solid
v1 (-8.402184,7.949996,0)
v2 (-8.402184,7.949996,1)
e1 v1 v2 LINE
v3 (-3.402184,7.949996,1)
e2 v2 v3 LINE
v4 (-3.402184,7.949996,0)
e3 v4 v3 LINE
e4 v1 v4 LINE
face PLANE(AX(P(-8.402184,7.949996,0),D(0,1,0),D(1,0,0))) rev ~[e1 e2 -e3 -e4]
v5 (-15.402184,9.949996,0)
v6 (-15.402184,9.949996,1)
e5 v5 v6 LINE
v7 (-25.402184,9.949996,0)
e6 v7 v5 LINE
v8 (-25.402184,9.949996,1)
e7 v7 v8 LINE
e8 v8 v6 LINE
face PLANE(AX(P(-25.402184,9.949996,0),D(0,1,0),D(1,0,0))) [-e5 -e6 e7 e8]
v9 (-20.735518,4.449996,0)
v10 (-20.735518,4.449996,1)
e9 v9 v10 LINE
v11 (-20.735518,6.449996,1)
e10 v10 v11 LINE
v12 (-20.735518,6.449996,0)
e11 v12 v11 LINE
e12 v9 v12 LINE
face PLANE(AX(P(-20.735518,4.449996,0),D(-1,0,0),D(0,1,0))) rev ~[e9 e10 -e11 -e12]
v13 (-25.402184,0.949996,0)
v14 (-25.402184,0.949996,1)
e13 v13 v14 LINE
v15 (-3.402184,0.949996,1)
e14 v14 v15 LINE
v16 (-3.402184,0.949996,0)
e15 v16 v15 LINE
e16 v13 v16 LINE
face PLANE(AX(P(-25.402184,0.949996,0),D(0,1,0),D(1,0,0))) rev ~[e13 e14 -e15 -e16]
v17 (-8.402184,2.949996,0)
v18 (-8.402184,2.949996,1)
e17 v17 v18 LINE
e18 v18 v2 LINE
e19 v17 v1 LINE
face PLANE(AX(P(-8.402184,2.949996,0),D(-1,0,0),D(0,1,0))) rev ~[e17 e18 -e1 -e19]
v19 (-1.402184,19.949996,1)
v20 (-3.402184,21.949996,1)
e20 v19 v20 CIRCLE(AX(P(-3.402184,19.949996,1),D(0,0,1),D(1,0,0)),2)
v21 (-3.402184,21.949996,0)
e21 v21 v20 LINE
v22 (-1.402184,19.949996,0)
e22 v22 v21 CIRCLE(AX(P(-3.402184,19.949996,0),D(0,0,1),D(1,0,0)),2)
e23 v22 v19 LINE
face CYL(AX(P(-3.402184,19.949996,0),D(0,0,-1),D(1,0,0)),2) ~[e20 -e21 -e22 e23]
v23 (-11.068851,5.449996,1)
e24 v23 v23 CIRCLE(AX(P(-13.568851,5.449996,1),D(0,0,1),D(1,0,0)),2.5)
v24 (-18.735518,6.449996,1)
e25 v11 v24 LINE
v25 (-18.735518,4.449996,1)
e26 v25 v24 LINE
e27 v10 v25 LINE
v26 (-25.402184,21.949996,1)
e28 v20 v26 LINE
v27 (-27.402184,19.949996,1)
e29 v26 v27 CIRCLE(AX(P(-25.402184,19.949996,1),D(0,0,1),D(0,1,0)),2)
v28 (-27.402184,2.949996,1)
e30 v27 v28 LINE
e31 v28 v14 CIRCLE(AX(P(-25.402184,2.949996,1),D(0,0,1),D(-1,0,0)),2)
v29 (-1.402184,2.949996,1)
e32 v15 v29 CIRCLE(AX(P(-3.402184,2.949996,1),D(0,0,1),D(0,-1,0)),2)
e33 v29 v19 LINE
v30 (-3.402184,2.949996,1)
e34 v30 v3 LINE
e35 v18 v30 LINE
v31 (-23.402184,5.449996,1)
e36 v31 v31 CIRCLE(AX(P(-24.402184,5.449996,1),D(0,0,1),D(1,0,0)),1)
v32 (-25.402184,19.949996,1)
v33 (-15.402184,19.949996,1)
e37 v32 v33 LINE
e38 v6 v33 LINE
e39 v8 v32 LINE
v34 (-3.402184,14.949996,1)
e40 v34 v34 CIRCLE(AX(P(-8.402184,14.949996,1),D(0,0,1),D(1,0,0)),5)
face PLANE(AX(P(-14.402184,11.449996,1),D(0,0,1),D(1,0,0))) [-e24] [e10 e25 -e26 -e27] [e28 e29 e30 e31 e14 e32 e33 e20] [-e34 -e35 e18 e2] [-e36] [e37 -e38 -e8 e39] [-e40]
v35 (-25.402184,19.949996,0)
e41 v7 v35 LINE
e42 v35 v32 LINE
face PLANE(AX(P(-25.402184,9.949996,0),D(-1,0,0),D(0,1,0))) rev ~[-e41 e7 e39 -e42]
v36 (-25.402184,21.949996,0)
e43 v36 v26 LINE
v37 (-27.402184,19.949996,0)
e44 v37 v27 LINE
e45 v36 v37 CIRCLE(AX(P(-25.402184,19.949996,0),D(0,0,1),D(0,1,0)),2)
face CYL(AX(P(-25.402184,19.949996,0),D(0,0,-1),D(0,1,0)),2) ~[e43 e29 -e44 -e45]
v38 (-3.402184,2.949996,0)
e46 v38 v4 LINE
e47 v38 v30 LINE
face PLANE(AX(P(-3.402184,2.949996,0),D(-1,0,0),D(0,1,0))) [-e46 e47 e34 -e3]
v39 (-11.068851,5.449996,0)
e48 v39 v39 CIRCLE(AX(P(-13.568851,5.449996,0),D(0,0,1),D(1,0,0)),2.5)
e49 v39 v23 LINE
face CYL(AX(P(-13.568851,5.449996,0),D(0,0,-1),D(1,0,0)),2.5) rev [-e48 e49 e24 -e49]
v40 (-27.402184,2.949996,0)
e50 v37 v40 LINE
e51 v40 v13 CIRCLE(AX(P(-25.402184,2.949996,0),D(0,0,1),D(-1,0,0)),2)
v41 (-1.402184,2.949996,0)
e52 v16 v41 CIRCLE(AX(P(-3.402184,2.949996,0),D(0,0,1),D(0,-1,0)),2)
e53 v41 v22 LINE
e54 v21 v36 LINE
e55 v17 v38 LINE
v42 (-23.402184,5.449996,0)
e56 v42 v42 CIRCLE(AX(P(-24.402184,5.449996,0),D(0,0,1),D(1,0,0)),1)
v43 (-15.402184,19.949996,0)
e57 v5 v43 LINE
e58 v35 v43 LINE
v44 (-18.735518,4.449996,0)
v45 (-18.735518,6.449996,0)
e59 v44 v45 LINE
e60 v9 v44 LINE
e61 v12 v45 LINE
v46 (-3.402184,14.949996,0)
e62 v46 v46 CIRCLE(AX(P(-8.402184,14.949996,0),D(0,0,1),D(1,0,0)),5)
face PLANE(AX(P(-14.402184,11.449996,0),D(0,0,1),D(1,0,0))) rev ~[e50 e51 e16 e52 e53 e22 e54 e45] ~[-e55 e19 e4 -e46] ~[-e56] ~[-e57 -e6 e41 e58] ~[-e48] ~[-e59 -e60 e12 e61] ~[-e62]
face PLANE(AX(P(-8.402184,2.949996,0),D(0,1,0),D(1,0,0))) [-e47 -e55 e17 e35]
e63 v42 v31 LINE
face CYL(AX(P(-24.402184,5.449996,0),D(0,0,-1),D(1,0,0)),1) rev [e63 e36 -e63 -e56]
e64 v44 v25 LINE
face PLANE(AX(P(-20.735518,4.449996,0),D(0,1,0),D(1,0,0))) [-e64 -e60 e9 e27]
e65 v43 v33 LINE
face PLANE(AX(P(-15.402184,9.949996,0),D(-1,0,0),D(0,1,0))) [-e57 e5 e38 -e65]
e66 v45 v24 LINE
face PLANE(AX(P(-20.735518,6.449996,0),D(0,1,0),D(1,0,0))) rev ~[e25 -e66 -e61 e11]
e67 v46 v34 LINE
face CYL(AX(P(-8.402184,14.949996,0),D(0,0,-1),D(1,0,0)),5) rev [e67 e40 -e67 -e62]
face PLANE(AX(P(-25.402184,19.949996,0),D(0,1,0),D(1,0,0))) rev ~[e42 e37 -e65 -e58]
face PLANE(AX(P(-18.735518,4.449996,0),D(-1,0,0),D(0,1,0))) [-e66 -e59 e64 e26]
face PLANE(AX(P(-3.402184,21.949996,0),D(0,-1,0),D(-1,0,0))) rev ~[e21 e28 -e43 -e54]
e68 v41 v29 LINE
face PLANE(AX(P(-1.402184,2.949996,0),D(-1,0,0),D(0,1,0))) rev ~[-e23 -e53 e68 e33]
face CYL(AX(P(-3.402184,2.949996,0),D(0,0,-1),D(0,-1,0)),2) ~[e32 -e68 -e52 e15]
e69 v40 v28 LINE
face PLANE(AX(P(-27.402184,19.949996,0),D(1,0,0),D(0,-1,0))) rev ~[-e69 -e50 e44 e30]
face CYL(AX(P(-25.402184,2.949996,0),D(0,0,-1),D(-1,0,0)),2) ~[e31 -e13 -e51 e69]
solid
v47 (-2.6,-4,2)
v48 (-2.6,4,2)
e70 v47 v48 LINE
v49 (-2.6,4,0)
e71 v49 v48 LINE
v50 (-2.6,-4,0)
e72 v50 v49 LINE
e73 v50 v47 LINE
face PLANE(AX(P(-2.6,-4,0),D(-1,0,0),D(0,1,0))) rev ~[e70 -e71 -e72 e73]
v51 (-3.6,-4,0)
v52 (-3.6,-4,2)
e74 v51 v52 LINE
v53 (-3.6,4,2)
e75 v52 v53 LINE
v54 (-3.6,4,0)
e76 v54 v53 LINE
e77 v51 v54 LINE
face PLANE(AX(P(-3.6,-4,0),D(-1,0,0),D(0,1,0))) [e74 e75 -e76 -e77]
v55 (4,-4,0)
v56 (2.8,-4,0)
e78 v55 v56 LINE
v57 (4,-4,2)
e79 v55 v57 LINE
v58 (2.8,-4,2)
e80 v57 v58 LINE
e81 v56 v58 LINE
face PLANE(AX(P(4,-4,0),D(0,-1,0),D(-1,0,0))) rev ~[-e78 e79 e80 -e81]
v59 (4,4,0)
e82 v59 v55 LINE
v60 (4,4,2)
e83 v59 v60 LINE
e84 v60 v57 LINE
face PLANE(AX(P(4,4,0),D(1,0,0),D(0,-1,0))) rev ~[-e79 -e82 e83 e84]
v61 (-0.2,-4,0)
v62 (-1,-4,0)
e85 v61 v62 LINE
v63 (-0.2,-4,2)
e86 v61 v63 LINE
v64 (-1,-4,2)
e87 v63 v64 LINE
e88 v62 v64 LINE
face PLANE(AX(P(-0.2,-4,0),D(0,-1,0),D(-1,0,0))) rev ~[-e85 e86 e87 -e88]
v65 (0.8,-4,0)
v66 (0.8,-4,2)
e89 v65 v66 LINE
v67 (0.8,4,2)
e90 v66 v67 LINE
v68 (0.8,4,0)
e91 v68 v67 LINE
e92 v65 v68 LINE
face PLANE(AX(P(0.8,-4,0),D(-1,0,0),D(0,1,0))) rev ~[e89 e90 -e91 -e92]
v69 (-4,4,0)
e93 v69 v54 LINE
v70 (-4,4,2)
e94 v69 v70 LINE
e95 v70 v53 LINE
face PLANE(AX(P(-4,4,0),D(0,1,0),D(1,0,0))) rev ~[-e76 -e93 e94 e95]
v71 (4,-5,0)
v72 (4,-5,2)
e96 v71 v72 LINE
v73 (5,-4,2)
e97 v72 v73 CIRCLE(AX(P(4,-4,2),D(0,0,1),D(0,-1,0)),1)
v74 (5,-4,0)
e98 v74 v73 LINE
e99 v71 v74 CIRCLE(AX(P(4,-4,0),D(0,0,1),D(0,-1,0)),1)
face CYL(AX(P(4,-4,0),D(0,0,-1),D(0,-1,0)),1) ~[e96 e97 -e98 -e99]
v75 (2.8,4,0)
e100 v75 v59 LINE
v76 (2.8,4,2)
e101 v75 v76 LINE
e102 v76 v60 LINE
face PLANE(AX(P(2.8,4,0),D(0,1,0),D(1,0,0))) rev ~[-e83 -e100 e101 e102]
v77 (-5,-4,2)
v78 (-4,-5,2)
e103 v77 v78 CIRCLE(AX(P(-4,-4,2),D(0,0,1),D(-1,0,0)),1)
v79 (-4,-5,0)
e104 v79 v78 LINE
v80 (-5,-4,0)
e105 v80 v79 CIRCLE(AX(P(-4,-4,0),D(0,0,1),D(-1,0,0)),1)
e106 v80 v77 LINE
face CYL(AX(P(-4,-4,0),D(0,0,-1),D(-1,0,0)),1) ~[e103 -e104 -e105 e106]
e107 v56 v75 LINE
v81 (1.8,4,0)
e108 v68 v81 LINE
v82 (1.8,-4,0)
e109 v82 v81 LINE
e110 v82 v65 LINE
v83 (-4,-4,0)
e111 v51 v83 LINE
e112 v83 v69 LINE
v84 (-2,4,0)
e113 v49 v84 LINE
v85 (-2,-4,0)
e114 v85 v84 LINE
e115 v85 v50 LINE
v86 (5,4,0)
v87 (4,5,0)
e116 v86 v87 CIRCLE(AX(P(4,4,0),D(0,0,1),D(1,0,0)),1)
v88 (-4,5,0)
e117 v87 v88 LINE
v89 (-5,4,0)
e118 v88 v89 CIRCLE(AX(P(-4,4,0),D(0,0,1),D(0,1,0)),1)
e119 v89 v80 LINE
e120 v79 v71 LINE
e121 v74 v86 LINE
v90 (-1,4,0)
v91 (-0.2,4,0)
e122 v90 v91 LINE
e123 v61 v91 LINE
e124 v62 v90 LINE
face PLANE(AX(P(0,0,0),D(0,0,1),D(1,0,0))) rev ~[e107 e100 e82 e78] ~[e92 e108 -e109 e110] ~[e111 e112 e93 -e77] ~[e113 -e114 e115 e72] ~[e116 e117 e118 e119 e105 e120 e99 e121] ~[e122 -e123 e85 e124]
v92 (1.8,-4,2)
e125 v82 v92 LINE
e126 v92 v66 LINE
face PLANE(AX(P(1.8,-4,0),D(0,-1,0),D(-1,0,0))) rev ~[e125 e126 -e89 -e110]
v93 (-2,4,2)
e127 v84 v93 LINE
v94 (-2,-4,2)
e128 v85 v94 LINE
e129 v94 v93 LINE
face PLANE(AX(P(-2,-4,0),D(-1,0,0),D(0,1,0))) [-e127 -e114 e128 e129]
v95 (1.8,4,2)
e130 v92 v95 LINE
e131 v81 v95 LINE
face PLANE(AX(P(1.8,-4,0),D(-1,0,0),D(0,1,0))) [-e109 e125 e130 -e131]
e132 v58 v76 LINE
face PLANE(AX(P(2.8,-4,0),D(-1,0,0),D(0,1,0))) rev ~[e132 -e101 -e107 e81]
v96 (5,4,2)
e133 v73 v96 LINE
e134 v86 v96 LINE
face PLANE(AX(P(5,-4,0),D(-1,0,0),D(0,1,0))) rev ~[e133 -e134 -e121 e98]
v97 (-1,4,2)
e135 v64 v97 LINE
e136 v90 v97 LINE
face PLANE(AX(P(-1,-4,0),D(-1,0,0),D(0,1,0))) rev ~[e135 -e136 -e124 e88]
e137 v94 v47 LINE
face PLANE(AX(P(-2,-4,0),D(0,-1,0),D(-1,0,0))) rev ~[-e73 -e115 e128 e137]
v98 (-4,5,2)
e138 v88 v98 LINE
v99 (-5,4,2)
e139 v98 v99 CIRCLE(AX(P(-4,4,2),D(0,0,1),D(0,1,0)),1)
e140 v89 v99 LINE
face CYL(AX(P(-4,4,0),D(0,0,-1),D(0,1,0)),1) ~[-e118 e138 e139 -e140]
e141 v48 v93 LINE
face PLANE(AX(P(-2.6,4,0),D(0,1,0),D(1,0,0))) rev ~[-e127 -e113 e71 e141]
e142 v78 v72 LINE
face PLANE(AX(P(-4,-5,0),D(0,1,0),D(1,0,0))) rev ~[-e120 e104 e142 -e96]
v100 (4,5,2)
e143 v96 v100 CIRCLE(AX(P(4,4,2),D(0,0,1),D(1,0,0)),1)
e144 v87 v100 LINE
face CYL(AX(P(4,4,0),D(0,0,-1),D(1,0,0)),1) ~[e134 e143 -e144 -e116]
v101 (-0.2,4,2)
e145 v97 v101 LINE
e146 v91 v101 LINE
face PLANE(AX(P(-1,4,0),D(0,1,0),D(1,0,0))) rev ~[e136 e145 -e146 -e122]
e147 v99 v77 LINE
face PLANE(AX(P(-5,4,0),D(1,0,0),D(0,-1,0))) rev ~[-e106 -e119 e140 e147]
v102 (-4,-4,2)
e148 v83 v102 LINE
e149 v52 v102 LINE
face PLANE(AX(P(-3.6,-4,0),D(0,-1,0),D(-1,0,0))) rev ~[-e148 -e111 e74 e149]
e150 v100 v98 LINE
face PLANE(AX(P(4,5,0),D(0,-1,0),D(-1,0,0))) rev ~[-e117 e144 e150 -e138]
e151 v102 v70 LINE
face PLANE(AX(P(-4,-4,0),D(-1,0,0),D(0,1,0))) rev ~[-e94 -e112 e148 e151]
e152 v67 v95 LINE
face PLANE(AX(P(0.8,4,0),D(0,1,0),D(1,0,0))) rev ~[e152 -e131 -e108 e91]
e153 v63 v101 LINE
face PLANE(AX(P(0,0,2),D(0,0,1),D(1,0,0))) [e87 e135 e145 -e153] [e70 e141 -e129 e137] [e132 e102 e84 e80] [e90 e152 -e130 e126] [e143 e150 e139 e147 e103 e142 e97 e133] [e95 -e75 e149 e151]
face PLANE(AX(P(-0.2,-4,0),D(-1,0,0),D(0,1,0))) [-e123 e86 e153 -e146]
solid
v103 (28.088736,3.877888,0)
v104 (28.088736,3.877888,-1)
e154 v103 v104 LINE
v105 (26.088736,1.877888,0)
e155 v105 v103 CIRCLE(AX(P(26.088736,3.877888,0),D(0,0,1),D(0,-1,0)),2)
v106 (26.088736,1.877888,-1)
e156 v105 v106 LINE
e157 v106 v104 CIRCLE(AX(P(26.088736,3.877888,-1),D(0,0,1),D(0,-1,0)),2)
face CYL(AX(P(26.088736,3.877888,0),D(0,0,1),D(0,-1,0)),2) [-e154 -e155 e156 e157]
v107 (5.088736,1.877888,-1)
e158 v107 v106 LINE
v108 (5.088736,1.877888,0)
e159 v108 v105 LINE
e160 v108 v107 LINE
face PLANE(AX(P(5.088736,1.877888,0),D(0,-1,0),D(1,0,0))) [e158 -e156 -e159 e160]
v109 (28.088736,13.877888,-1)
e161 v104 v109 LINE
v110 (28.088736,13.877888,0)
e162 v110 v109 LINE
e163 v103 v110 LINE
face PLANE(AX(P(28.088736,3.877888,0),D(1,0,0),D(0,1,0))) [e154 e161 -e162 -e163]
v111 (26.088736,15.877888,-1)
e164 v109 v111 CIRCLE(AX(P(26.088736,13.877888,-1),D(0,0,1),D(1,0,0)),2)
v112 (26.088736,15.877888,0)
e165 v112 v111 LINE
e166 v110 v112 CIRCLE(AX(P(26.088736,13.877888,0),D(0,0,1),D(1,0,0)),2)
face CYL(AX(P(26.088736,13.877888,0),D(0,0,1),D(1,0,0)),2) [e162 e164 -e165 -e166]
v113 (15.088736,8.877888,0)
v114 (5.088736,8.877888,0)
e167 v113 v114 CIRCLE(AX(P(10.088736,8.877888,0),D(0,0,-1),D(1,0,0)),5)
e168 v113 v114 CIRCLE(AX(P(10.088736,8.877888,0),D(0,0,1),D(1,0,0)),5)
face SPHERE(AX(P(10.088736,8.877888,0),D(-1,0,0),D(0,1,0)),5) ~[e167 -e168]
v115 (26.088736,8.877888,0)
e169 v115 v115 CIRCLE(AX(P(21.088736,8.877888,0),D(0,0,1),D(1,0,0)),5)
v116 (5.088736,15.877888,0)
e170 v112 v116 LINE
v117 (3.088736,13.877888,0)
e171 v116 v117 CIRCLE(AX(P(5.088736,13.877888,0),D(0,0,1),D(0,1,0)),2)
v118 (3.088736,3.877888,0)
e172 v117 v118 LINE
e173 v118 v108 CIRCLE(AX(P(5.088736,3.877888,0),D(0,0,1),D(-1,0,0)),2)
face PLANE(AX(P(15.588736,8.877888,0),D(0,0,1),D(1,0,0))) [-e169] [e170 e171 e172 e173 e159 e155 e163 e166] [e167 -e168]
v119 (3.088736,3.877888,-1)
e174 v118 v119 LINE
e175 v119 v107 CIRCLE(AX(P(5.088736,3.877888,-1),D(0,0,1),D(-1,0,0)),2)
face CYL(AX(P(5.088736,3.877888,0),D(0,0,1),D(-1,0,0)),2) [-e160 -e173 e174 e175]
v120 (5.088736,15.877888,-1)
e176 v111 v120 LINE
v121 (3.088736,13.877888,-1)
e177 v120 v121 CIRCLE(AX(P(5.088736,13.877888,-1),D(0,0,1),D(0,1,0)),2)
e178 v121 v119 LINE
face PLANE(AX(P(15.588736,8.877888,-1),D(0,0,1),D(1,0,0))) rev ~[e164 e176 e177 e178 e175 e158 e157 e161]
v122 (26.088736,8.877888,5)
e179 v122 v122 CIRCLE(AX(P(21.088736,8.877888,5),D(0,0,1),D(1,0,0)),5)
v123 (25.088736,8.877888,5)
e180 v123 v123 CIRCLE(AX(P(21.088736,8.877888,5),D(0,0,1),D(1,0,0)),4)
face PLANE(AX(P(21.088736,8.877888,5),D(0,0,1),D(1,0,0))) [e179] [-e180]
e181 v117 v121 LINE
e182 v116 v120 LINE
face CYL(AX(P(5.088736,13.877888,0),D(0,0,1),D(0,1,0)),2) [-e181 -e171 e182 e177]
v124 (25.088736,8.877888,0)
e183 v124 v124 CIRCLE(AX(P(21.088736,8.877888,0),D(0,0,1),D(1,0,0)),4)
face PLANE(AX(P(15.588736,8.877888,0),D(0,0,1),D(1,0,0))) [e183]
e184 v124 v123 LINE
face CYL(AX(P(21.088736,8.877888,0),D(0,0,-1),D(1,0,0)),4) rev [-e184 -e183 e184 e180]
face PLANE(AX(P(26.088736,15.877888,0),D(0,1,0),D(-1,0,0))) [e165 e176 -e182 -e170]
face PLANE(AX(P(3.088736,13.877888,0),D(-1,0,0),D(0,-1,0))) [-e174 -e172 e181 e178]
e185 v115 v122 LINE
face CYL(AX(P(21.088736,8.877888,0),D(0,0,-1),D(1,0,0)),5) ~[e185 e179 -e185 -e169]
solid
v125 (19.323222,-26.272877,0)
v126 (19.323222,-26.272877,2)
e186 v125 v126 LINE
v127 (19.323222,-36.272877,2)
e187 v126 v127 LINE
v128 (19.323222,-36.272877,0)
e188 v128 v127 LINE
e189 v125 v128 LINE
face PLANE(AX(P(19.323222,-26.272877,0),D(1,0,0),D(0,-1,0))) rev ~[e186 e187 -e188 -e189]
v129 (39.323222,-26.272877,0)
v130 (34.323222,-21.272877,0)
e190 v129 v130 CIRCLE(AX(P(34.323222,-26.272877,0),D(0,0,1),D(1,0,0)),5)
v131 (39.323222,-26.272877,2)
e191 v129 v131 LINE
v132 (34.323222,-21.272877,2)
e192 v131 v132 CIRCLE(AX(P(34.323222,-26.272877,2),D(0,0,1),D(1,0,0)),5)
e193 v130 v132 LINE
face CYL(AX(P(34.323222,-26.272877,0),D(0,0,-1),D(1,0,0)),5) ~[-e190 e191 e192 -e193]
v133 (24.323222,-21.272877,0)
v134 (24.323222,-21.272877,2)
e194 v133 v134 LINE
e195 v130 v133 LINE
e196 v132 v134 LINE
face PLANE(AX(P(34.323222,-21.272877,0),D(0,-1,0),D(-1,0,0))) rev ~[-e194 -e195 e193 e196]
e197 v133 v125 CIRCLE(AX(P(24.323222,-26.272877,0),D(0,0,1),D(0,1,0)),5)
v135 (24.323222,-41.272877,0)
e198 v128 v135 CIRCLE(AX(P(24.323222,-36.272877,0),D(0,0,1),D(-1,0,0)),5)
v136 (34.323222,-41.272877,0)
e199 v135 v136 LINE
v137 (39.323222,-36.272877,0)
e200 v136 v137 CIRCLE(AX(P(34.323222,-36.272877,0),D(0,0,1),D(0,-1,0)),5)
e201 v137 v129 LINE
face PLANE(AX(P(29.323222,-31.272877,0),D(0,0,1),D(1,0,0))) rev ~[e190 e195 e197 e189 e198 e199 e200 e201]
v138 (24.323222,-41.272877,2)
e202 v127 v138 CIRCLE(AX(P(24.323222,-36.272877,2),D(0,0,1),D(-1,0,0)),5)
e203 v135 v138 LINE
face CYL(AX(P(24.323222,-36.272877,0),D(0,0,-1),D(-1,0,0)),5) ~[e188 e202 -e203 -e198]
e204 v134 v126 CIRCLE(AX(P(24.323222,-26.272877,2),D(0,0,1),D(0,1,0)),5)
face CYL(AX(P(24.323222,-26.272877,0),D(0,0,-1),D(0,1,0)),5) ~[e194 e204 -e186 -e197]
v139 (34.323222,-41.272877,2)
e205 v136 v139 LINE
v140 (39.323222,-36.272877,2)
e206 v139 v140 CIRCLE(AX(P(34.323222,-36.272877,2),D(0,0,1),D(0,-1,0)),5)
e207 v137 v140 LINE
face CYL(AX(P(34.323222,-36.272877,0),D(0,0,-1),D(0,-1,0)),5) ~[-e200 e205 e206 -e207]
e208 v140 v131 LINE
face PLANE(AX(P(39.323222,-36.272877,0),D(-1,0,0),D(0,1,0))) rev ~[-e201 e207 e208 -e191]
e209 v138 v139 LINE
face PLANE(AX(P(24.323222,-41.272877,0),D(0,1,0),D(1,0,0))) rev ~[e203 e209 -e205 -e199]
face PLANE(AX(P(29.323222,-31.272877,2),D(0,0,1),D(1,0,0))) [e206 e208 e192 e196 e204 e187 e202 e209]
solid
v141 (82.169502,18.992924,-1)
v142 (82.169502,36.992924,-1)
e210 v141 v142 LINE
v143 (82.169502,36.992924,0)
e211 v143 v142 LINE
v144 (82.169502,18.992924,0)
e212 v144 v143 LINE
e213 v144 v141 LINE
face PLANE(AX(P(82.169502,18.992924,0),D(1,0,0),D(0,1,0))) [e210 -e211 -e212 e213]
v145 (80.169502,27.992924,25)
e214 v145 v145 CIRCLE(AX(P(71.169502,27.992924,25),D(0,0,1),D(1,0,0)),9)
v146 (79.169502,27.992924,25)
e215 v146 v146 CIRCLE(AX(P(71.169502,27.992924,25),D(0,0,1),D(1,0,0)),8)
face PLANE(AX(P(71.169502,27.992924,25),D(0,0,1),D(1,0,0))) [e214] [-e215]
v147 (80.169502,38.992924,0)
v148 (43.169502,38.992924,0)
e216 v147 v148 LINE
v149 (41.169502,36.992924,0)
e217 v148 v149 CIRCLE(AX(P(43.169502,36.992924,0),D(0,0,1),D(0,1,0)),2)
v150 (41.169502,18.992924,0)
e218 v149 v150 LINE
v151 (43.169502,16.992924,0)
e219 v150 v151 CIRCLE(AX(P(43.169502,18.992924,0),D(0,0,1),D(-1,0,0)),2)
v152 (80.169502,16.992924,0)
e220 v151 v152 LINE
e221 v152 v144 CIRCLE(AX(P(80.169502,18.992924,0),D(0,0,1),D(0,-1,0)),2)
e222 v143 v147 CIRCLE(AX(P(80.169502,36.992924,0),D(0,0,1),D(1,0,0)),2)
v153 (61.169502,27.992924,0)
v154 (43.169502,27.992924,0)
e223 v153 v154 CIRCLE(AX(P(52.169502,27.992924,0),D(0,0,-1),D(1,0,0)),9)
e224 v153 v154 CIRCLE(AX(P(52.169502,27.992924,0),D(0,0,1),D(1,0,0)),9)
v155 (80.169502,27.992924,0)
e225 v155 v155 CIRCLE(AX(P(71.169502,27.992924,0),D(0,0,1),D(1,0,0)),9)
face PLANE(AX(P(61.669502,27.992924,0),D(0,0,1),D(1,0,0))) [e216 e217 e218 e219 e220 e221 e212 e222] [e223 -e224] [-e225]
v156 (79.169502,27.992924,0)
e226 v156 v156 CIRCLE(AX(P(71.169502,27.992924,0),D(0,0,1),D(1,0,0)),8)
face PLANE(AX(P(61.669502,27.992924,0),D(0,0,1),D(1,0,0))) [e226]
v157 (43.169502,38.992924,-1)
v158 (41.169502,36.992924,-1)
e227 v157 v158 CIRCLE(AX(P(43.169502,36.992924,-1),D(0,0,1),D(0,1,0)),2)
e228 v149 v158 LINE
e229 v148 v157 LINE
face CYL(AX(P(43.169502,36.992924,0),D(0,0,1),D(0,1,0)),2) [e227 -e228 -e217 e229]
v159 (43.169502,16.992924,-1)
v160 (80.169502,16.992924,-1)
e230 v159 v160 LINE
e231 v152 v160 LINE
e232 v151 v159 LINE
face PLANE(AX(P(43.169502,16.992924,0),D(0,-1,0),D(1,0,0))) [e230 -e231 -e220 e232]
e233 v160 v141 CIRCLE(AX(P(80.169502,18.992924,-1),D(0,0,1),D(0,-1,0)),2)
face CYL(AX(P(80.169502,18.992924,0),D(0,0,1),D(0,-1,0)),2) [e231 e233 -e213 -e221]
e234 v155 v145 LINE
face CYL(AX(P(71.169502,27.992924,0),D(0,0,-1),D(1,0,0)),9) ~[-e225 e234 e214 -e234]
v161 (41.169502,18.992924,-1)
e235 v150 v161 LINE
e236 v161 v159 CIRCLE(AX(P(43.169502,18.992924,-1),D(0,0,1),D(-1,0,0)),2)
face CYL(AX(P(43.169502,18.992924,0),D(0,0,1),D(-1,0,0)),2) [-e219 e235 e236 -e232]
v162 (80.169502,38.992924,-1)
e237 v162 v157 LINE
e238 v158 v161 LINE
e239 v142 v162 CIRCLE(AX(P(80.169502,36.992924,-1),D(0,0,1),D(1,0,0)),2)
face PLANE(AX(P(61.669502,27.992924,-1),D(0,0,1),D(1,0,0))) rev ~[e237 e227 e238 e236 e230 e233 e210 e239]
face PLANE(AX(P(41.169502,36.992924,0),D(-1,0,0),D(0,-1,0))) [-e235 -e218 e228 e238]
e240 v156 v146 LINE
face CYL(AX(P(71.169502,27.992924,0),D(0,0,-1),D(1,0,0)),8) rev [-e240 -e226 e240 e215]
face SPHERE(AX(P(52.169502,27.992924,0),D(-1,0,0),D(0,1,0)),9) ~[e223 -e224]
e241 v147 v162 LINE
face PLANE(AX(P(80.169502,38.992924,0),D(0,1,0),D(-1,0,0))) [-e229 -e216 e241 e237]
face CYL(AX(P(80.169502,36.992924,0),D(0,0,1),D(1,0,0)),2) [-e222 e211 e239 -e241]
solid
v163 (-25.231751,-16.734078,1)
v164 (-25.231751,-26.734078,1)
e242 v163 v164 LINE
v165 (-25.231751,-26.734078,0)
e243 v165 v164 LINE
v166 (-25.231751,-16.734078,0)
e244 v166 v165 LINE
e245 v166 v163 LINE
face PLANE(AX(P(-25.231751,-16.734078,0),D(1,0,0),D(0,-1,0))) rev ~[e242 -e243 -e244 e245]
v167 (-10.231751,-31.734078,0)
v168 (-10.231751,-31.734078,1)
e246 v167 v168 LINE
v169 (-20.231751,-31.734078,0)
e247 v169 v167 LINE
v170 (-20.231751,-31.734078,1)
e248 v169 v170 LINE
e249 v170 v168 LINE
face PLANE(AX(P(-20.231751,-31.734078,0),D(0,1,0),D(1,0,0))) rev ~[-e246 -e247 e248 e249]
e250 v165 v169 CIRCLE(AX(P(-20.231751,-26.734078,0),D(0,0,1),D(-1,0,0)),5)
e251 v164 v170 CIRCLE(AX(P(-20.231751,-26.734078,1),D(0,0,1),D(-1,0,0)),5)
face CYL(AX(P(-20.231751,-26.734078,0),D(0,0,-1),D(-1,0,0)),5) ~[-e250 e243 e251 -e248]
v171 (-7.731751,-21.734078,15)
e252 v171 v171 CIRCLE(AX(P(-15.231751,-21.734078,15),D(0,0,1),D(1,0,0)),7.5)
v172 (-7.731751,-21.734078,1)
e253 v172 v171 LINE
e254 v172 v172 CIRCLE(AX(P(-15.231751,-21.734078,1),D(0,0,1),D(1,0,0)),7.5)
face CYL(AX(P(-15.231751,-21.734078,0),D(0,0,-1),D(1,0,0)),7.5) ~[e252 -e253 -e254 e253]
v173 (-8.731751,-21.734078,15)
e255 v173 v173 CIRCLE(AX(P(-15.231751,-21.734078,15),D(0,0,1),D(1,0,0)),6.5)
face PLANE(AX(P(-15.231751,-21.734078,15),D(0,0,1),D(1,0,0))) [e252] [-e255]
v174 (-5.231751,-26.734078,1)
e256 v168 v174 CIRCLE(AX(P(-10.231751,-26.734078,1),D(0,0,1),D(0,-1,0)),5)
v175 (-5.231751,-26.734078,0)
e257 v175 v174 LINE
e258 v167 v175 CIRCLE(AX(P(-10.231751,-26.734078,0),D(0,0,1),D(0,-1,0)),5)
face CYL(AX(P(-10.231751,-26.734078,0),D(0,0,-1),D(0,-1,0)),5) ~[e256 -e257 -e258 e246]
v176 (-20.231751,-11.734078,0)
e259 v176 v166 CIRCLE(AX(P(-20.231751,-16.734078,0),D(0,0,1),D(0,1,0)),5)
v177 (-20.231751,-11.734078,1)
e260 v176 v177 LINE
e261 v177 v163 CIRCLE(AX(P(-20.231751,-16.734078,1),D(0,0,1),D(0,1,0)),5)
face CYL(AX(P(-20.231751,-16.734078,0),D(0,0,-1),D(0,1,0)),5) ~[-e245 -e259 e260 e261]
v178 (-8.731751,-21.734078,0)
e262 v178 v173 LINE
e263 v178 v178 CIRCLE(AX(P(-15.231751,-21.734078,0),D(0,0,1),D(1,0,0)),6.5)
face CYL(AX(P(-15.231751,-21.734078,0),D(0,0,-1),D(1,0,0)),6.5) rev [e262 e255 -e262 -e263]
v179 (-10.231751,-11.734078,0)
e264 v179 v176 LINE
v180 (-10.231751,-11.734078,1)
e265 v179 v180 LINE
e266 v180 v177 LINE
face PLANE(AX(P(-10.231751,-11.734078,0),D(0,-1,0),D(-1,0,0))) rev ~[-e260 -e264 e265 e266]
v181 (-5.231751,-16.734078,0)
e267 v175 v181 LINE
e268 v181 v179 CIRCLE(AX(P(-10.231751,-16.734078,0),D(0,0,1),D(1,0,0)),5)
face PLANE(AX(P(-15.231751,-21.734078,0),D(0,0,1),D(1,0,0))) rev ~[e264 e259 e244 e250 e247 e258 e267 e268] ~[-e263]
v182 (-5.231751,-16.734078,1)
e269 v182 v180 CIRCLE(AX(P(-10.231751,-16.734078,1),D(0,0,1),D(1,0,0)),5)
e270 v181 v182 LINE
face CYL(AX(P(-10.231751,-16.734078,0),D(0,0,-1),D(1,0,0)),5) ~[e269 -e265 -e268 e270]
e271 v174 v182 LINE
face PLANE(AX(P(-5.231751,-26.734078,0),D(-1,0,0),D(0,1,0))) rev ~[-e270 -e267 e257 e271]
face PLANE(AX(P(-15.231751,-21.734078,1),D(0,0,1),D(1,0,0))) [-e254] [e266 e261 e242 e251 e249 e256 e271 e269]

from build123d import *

# Parameters (mm, degrees)
F0_R      = 5
F0_R_2    = 4
F1_DEPTH  = 1
F0_R_3    = 9
F0_R_4    = 8
F2_ANGLE  = 180
F3_DEPTH  = 5
F4_R      = 1
F4_W      = 2
F4_H      = 2
F4_R_2    = 2.5
F4_W_2    = 5
F4_H_2    = 5
F4_W_3    = 10
F4_H_3    = 10
F4_R_3    = 5
F5_DEPTH  = 1
F6_W      = 1
F6_H      = 8.0000001378
F7_DEPTH  = 2
F8_ANGLE  = 180
F9_DEPTH  = 25
F10_R     = 7.5
F11_DEPTH = 1
F10_R_2   = 6.5
F12_DEPTH = 15
F14_DEPTH = 2


with BuildPart() as f1:
    # F0 (on Top) → F1 (new body)
    with BuildSketch(Plane.XY):
        with BuildLine():
            Line((26.0887360853, 15.8778876324), (5.0887360853, 15.8778876324))
            ThreePointArc((5.0887360853, 15.8778876324), (3.6745225229, 15.2921011948), (3.0887360853, 13.8778876324))
            Line((3.0887360853, 13.8778876324), (3.0887360853, 3.8778876324))
            ThreePointArc((3.0887360853, 3.8778876324), (3.6745225229, 2.46367407), (5.0887360853, 1.8778876324))
            Line((5.0887360853, 1.8778876324), (26.0887360853, 1.8778876324))
            ThreePointArc((26.0887360853, 1.8778876324), (27.5029496477, 2.46367407), (28.0887360853, 3.8778876324))
            Line((28.0887360853, 3.8778876324), (28.0887360853, 13.8778876324))
            ThreePointArc((28.0887360853, 13.8778876324), (27.5029496477, 15.2921011948), (26.0887360853, 15.8778876324))
        make_face()
        with BuildLine():
            ThreePointArc((15.0887360853, 8.8778876324), (10.0887360853, 3.8778876324), (5.0887360853, 8.8778876324))
            ThreePointArc((5.0887360853, 8.8778876324), (10.0887360853, 13.8778876324), (15.0887360853, 8.8778876324))
        make_face(mode=Mode.SUBTRACT)
        with Locations((21.0887360853, 8.8778876324)):
            Circle(F0_R, mode=Mode.SUBTRACT)
        with Locations((21.0887360853, 8.8778876324)):
            Circle(F0_R)
        with Locations((21.0887360853, 8.8778876324)):
            Circle(F0_R_2, mode=Mode.SUBTRACT)
        with Locations((21.0887360853, 8.8778876324)):
            Circle(F0_R_2)
        with BuildLine():
            Line((15.0887360853, 8.8778876324), (5.0887360853, 8.8778876324))
            ThreePointArc((5.0887360853, 8.8778876324), (10.0887360853, 3.8778876324), (15.0887360853, 8.8778876324))
        make_face()
        with BuildLine():
            ThreePointArc((15.0887360853, 8.8778876324), (10.0887360853, 13.8778876324), (5.0887360853, 8.8778876324))
            Line((5.0887360853, 8.8778876324), (15.0887360853, 8.8778876324))
        make_face()
    extrude(amount=-F1_DEPTH)

    # F0 (on Top) → F2 (revolve)
    with BuildSketch(Plane.XY):
        with BuildLine():
            ThreePointArc((15.0887360853, 8.8778876324), (10.0887360853, 13.8778876324), (5.0887360853, 8.8778876324))
            Line((5.0887360853, 8.8778876324), (15.0887360853, 8.8778876324))
        make_face()
    revolve(axis=Axis((10.0887360853, 8.8778876324, 0), (1, 0, 0)), revolution_arc=F2_ANGLE)

    # F0 (on Top) → F3 (join)
    with BuildSketch(Plane.XY):
        with Locations((21.0887360853, 8.8778876324)):
            Circle(F0_R)
        with Locations((21.0887360853, 8.8778876324)):
            Circle(F0_R_2, mode=Mode.SUBTRACT)
    extrude(amount=F3_DEPTH)


with BuildPart() as f1b:
    # F0 (on Top) → F1, piece 2 (new body)
    with BuildSketch(Plane.XY):
        with BuildLine():
            Line((80.1695018411, 38.992923528), (43.1695018411, 38.992923528))
            ThreePointArc((43.1695018411, 38.992923528), (41.7552882787, 38.4071370903), (41.1695018411, 36.992923528))
            Line((41.1695018411, 36.992923528), (41.1695018411, 18.992923528))
            ThreePointArc((41.1695018411, 18.992923528), (41.7552882787, 17.5787099656), (43.1695018411, 16.992923528))
            Line((43.1695018411, 16.992923528), (80.1695018411, 16.992923528))
            ThreePointArc((80.1695018411, 16.992923528), (81.5837154034, 17.5787099656), (82.1695018411, 18.992923528))
            Line((82.1695018411, 18.992923528), (82.1695018411, 36.992923528))
            ThreePointArc((82.1695018411, 36.992923528), (81.5837154034, 38.4071370903), (80.1695018411, 38.992923528))
        make_face()
        with BuildLine():
            ThreePointArc((61.1695018411, 27.992923528), (52.1695018411, 18.992923528), (43.1695018411, 27.992923528))
            ThreePointArc((43.1695018411, 27.992923528), (52.1695018411, 36.992923528), (61.1695018411, 27.992923528))
        make_face(mode=Mode.SUBTRACT)
        with Locations((71.1695018411, 27.992923528)):
            Circle(F0_R_3, mode=Mode.SUBTRACT)
        with BuildLine():
            Line((61.1695018411, 27.992923528), (43.1695018411, 27.992923528))
            ThreePointArc((43.1695018411, 27.992923528), (52.1695018411, 18.992923528), (61.1695018411, 27.992923528))
        make_face()
        with BuildLine():
            ThreePointArc((61.1695018411, 27.992923528), (52.1695018411, 36.992923528), (43.1695018411, 27.992923528))
            Line((43.1695018411, 27.992923528), (61.1695018411, 27.992923528))
        make_face()
        with Locations((71.1695018411, 27.992923528)):
            Circle(F0_R_3)
        with Locations((71.1695018411, 27.992923528)):
            Circle(F0_R_4, mode=Mode.SUBTRACT)
        with Locations((71.1695018411, 27.992923528)):
            Circle(F0_R_4)
    extrude(amount=-F1_DEPTH)

    # F0 (on Top) → F8 (revolve)
    with BuildSketch(Plane.XY):
        with BuildLine():
            ThreePointArc((61.1695018411, 27.992923528), (52.1695018411, 36.992923528), (43.1695018411, 27.992923528))
            Line((43.1695018411, 27.992923528), (61.1695018411, 27.992923528))
        make_face()
    revolve(axis=Axis((52.1695018411, 27.992923528, 0), (1, 0, 0)), revolution_arc=F8_ANGLE)

    # F0 (on Top) → F9 (join)
    with BuildSketch(Plane.XY):
        with Locations((71.1695018411, 27.992923528)):
            Circle(F0_R_3)
        with Locations((71.1695018411, 27.992923528)):
            Circle(F0_R_4, mode=Mode.SUBTRACT)
    extrude(amount=F9_DEPTH)


with BuildPart() as f5:
    # F4 (on Top) → F5 (new body)
    with BuildSketch(Plane.XY):
        with BuildLine():
            Line((-3.4021842554, 21.9499961164), (-25.4021842554, 21.9499961164))
            ThreePointArc((-25.4021842554, 21.9499961164), (-26.8163978178, 21.3642096787), (-27.4021842554, 19.9499961164))
            Line((-27.4021842554, 19.9499961164), (-27.4021842554, 2.9499961164))
            ThreePointArc((-27.4021842554, 2.9499961164), (-26.8163978178, 1.535782554), (-25.4021842554, 0.9499961164))
            Line((-25.4021842554, 0.9499961164), (-3.4021842554, 0.9499961164))
            ThreePointArc((-3.4021842554, 0.9499961164), (-1.987970693, 1.535782554), (-1.4021842554, 2.9499961164))
            Line((-1.4021842554, 2.9499961164), (-1.4021842554, 19.9499961164))
            ThreePointArc((-1.4021842554, 19.9499961164), (-1.987970693, 21.3642096787), (-3.4021842554, 21.9499961164))
        make_face()
        with Locations((-24.4021842554, 5.4499961164)):
            Circle(F4_R, mode=Mode.SUBTRACT)
        with Locations((-19.7355175888, 5.4499961164)):
            Rectangle(F4_W, F4_H, mode=Mode.SUBTRACT)
        with Locations((-13.5688509221, 5.4499961164)):
            Circle(F4_R_2, mode=Mode.SUBTRACT)
        with Locations((-5.9021842554, 5.4499961164)):
            Rectangle(F4_W_2, F4_H_2, mode=Mode.SUBTRACT)
        with Locations((-20.4021842554, 14.9499961164)):
            Rectangle(F4_W_3, F4_H_3, mode=Mode.SUBTRACT)
        with Locations((-8.4021842554, 14.9499961164)):
            Circle(F4_R_3, mode=Mode.SUBTRACT)
    extrude(amount=F5_DEPTH)


with BuildPart() as f7:
    # F6 (on Top) → F7 (new body)
    with BuildSketch(Plane.XY):
        with BuildLine():
            ThreePointArc((4.9999999311, 4), (4.7071067123, 4.7071067812), (3.9999999311, 5))
            Line((3.9999999311, 5), (-3.9999999311, 5))
            ThreePointArc((-3.9999999311, 5), (-4.7071067123, 4.7071067812), (-4.9999999311, 4))
            Line((-4.9999999311, 4), (-4.9999999311, -4))
            ThreePointArc((-4.9999999311, -4), (-4.7071067123, -4.7071067812), (-3.9999999311, -5))
            Line((-3.9999999311, -5), (3.9999999311, -5))
            ThreePointArc((3.9999999311, -5), (4.7071067123, -4.7071067812), (4.9999999311, -4))
            Line((4.9999999311, -4), (4.9999999311, 4))
        make_face()
        Polygon((4, 4.0000000689), (4, -4.0000000689), (2.8, -4.0000000689), (1.8, -4.0000000689), (0.8, -4.0000000689), (-0.2, -4.0000000689), (-1, -4.0000000689), (-2, -4.0000000689), (-2.6, -4.0000000689), (-3.6, -4.0000000689), (-4, -4.0000000689), (-4, 4.0000000689), (-3.6, 4.0000000689), (-2.6, 4.0000000689), (-2, 4.0000000689), (-1, 4.0000000689), (-0.2, 4.0000000689), (0.8, 4.0000000689), (1.8, 4.0000000689), (2.8, 4.0000000689), align=None, mode=Mode.SUBTRACT)
        with Locations((-3.1, 0)):
            Rectangle(F6_W, F6_H)
        with Locations((-1.5, 0)):
            Rectangle(F6_W, F6_H)
        with Locations((0.3, 0)):
            Rectangle(F6_W, F6_H)
        with Locations((2.3, 0)):
            Rectangle(F6_W, F6_H)
    extrude(amount=F7_DEPTH)


with BuildPart() as f11:
    # F10 (on Top) → F11 (new body)
    with BuildSketch(Plane.XY):
        with BuildLine():
            Line((-20.2317509055, -31.7340784147), (-10.2317509055, -31.7340784147))
            ThreePointArc((-10.2317509055, -31.7340784147), (-6.6962169996, -30.2696123207), (-5.2317509055, -26.7340784147))
            Line((-5.2317509055, -26.7340784147), (-5.2317509055, -16.7340784147))
            ThreePointArc((-5.2317509055, -16.7340784147), (-6.6962169996, -13.1985445088), (-10.2317509055, -11.7340784147))
            Line((-10.2317509055, -11.7340784147), (-20.2317509055, -11.7340784147))
            ThreePointArc((-20.2317509055, -11.7340784147), (-23.7672848114, -13.1985445088), (-25.2317509055, -16.7340784147))
            Line((-25.2317509055, -16.7340784147), (-25.2317509055, -26.7340784147))
            ThreePointArc((-25.2317509055, -26.7340784147), (-23.7672848114, -30.2696123207), (-20.2317509055, -31.7340784147))
        make_face()
        with Locations((-15.2317509055, -21.7340784147)):
            Circle(F10_R, mode=Mode.SUBTRACT)
    extrude(amount=F11_DEPTH)

    # F10 (on Top) → F12 (join)
    with BuildSketch(Plane.XY):
        with Locations((-15.2317509055, -21.7340784147)):
            Circle(F10_R)
        with Locations((-15.2317509055, -21.7340784147)):
            Circle(F10_R_2, mode=Mode.SUBTRACT)
    extrude(amount=F12_DEPTH)


with BuildPart() as f14:
    # F13 (on Top) → F14 (new body)
    with BuildSketch(Plane.XY):
        with BuildLine():
            Line((34.3232223392, -21.2728772312), (24.3232223392, -21.2728772312))
            ThreePointArc((24.3232223392, -21.2728772312), (20.7876884332, -22.7373433253), (19.3232223392, -26.2728772312))
            Line((19.3232223392, -26.2728772312), (19.3232223392, -36.2728772312))
            ThreePointArc((19.3232223392, -36.2728772312), (20.7876884332, -39.8084111372), (24.3232223392, -41.2728772312))
            Line((24.3232223392, -41.2728772312), (34.3232223392, -41.2728772312))
            ThreePointArc((34.3232223392, -41.2728772312), (37.8587562451, -39.8084111372), (39.3232223392, -36.2728772312))
            Line((39.3232223392, -36.2728772312), (39.3232223392, -26.2728772312))
            ThreePointArc((39.3232223392, -26.2728772312), (37.8587562451, -22.7373433253), (34.3232223392, -21.2728772312))
        make_face()
    extrude(amount=F14_DEPTH)


solid = Compound([f1.part, f1b.part, f5.part, f7.part, f11.part, f14.part])
